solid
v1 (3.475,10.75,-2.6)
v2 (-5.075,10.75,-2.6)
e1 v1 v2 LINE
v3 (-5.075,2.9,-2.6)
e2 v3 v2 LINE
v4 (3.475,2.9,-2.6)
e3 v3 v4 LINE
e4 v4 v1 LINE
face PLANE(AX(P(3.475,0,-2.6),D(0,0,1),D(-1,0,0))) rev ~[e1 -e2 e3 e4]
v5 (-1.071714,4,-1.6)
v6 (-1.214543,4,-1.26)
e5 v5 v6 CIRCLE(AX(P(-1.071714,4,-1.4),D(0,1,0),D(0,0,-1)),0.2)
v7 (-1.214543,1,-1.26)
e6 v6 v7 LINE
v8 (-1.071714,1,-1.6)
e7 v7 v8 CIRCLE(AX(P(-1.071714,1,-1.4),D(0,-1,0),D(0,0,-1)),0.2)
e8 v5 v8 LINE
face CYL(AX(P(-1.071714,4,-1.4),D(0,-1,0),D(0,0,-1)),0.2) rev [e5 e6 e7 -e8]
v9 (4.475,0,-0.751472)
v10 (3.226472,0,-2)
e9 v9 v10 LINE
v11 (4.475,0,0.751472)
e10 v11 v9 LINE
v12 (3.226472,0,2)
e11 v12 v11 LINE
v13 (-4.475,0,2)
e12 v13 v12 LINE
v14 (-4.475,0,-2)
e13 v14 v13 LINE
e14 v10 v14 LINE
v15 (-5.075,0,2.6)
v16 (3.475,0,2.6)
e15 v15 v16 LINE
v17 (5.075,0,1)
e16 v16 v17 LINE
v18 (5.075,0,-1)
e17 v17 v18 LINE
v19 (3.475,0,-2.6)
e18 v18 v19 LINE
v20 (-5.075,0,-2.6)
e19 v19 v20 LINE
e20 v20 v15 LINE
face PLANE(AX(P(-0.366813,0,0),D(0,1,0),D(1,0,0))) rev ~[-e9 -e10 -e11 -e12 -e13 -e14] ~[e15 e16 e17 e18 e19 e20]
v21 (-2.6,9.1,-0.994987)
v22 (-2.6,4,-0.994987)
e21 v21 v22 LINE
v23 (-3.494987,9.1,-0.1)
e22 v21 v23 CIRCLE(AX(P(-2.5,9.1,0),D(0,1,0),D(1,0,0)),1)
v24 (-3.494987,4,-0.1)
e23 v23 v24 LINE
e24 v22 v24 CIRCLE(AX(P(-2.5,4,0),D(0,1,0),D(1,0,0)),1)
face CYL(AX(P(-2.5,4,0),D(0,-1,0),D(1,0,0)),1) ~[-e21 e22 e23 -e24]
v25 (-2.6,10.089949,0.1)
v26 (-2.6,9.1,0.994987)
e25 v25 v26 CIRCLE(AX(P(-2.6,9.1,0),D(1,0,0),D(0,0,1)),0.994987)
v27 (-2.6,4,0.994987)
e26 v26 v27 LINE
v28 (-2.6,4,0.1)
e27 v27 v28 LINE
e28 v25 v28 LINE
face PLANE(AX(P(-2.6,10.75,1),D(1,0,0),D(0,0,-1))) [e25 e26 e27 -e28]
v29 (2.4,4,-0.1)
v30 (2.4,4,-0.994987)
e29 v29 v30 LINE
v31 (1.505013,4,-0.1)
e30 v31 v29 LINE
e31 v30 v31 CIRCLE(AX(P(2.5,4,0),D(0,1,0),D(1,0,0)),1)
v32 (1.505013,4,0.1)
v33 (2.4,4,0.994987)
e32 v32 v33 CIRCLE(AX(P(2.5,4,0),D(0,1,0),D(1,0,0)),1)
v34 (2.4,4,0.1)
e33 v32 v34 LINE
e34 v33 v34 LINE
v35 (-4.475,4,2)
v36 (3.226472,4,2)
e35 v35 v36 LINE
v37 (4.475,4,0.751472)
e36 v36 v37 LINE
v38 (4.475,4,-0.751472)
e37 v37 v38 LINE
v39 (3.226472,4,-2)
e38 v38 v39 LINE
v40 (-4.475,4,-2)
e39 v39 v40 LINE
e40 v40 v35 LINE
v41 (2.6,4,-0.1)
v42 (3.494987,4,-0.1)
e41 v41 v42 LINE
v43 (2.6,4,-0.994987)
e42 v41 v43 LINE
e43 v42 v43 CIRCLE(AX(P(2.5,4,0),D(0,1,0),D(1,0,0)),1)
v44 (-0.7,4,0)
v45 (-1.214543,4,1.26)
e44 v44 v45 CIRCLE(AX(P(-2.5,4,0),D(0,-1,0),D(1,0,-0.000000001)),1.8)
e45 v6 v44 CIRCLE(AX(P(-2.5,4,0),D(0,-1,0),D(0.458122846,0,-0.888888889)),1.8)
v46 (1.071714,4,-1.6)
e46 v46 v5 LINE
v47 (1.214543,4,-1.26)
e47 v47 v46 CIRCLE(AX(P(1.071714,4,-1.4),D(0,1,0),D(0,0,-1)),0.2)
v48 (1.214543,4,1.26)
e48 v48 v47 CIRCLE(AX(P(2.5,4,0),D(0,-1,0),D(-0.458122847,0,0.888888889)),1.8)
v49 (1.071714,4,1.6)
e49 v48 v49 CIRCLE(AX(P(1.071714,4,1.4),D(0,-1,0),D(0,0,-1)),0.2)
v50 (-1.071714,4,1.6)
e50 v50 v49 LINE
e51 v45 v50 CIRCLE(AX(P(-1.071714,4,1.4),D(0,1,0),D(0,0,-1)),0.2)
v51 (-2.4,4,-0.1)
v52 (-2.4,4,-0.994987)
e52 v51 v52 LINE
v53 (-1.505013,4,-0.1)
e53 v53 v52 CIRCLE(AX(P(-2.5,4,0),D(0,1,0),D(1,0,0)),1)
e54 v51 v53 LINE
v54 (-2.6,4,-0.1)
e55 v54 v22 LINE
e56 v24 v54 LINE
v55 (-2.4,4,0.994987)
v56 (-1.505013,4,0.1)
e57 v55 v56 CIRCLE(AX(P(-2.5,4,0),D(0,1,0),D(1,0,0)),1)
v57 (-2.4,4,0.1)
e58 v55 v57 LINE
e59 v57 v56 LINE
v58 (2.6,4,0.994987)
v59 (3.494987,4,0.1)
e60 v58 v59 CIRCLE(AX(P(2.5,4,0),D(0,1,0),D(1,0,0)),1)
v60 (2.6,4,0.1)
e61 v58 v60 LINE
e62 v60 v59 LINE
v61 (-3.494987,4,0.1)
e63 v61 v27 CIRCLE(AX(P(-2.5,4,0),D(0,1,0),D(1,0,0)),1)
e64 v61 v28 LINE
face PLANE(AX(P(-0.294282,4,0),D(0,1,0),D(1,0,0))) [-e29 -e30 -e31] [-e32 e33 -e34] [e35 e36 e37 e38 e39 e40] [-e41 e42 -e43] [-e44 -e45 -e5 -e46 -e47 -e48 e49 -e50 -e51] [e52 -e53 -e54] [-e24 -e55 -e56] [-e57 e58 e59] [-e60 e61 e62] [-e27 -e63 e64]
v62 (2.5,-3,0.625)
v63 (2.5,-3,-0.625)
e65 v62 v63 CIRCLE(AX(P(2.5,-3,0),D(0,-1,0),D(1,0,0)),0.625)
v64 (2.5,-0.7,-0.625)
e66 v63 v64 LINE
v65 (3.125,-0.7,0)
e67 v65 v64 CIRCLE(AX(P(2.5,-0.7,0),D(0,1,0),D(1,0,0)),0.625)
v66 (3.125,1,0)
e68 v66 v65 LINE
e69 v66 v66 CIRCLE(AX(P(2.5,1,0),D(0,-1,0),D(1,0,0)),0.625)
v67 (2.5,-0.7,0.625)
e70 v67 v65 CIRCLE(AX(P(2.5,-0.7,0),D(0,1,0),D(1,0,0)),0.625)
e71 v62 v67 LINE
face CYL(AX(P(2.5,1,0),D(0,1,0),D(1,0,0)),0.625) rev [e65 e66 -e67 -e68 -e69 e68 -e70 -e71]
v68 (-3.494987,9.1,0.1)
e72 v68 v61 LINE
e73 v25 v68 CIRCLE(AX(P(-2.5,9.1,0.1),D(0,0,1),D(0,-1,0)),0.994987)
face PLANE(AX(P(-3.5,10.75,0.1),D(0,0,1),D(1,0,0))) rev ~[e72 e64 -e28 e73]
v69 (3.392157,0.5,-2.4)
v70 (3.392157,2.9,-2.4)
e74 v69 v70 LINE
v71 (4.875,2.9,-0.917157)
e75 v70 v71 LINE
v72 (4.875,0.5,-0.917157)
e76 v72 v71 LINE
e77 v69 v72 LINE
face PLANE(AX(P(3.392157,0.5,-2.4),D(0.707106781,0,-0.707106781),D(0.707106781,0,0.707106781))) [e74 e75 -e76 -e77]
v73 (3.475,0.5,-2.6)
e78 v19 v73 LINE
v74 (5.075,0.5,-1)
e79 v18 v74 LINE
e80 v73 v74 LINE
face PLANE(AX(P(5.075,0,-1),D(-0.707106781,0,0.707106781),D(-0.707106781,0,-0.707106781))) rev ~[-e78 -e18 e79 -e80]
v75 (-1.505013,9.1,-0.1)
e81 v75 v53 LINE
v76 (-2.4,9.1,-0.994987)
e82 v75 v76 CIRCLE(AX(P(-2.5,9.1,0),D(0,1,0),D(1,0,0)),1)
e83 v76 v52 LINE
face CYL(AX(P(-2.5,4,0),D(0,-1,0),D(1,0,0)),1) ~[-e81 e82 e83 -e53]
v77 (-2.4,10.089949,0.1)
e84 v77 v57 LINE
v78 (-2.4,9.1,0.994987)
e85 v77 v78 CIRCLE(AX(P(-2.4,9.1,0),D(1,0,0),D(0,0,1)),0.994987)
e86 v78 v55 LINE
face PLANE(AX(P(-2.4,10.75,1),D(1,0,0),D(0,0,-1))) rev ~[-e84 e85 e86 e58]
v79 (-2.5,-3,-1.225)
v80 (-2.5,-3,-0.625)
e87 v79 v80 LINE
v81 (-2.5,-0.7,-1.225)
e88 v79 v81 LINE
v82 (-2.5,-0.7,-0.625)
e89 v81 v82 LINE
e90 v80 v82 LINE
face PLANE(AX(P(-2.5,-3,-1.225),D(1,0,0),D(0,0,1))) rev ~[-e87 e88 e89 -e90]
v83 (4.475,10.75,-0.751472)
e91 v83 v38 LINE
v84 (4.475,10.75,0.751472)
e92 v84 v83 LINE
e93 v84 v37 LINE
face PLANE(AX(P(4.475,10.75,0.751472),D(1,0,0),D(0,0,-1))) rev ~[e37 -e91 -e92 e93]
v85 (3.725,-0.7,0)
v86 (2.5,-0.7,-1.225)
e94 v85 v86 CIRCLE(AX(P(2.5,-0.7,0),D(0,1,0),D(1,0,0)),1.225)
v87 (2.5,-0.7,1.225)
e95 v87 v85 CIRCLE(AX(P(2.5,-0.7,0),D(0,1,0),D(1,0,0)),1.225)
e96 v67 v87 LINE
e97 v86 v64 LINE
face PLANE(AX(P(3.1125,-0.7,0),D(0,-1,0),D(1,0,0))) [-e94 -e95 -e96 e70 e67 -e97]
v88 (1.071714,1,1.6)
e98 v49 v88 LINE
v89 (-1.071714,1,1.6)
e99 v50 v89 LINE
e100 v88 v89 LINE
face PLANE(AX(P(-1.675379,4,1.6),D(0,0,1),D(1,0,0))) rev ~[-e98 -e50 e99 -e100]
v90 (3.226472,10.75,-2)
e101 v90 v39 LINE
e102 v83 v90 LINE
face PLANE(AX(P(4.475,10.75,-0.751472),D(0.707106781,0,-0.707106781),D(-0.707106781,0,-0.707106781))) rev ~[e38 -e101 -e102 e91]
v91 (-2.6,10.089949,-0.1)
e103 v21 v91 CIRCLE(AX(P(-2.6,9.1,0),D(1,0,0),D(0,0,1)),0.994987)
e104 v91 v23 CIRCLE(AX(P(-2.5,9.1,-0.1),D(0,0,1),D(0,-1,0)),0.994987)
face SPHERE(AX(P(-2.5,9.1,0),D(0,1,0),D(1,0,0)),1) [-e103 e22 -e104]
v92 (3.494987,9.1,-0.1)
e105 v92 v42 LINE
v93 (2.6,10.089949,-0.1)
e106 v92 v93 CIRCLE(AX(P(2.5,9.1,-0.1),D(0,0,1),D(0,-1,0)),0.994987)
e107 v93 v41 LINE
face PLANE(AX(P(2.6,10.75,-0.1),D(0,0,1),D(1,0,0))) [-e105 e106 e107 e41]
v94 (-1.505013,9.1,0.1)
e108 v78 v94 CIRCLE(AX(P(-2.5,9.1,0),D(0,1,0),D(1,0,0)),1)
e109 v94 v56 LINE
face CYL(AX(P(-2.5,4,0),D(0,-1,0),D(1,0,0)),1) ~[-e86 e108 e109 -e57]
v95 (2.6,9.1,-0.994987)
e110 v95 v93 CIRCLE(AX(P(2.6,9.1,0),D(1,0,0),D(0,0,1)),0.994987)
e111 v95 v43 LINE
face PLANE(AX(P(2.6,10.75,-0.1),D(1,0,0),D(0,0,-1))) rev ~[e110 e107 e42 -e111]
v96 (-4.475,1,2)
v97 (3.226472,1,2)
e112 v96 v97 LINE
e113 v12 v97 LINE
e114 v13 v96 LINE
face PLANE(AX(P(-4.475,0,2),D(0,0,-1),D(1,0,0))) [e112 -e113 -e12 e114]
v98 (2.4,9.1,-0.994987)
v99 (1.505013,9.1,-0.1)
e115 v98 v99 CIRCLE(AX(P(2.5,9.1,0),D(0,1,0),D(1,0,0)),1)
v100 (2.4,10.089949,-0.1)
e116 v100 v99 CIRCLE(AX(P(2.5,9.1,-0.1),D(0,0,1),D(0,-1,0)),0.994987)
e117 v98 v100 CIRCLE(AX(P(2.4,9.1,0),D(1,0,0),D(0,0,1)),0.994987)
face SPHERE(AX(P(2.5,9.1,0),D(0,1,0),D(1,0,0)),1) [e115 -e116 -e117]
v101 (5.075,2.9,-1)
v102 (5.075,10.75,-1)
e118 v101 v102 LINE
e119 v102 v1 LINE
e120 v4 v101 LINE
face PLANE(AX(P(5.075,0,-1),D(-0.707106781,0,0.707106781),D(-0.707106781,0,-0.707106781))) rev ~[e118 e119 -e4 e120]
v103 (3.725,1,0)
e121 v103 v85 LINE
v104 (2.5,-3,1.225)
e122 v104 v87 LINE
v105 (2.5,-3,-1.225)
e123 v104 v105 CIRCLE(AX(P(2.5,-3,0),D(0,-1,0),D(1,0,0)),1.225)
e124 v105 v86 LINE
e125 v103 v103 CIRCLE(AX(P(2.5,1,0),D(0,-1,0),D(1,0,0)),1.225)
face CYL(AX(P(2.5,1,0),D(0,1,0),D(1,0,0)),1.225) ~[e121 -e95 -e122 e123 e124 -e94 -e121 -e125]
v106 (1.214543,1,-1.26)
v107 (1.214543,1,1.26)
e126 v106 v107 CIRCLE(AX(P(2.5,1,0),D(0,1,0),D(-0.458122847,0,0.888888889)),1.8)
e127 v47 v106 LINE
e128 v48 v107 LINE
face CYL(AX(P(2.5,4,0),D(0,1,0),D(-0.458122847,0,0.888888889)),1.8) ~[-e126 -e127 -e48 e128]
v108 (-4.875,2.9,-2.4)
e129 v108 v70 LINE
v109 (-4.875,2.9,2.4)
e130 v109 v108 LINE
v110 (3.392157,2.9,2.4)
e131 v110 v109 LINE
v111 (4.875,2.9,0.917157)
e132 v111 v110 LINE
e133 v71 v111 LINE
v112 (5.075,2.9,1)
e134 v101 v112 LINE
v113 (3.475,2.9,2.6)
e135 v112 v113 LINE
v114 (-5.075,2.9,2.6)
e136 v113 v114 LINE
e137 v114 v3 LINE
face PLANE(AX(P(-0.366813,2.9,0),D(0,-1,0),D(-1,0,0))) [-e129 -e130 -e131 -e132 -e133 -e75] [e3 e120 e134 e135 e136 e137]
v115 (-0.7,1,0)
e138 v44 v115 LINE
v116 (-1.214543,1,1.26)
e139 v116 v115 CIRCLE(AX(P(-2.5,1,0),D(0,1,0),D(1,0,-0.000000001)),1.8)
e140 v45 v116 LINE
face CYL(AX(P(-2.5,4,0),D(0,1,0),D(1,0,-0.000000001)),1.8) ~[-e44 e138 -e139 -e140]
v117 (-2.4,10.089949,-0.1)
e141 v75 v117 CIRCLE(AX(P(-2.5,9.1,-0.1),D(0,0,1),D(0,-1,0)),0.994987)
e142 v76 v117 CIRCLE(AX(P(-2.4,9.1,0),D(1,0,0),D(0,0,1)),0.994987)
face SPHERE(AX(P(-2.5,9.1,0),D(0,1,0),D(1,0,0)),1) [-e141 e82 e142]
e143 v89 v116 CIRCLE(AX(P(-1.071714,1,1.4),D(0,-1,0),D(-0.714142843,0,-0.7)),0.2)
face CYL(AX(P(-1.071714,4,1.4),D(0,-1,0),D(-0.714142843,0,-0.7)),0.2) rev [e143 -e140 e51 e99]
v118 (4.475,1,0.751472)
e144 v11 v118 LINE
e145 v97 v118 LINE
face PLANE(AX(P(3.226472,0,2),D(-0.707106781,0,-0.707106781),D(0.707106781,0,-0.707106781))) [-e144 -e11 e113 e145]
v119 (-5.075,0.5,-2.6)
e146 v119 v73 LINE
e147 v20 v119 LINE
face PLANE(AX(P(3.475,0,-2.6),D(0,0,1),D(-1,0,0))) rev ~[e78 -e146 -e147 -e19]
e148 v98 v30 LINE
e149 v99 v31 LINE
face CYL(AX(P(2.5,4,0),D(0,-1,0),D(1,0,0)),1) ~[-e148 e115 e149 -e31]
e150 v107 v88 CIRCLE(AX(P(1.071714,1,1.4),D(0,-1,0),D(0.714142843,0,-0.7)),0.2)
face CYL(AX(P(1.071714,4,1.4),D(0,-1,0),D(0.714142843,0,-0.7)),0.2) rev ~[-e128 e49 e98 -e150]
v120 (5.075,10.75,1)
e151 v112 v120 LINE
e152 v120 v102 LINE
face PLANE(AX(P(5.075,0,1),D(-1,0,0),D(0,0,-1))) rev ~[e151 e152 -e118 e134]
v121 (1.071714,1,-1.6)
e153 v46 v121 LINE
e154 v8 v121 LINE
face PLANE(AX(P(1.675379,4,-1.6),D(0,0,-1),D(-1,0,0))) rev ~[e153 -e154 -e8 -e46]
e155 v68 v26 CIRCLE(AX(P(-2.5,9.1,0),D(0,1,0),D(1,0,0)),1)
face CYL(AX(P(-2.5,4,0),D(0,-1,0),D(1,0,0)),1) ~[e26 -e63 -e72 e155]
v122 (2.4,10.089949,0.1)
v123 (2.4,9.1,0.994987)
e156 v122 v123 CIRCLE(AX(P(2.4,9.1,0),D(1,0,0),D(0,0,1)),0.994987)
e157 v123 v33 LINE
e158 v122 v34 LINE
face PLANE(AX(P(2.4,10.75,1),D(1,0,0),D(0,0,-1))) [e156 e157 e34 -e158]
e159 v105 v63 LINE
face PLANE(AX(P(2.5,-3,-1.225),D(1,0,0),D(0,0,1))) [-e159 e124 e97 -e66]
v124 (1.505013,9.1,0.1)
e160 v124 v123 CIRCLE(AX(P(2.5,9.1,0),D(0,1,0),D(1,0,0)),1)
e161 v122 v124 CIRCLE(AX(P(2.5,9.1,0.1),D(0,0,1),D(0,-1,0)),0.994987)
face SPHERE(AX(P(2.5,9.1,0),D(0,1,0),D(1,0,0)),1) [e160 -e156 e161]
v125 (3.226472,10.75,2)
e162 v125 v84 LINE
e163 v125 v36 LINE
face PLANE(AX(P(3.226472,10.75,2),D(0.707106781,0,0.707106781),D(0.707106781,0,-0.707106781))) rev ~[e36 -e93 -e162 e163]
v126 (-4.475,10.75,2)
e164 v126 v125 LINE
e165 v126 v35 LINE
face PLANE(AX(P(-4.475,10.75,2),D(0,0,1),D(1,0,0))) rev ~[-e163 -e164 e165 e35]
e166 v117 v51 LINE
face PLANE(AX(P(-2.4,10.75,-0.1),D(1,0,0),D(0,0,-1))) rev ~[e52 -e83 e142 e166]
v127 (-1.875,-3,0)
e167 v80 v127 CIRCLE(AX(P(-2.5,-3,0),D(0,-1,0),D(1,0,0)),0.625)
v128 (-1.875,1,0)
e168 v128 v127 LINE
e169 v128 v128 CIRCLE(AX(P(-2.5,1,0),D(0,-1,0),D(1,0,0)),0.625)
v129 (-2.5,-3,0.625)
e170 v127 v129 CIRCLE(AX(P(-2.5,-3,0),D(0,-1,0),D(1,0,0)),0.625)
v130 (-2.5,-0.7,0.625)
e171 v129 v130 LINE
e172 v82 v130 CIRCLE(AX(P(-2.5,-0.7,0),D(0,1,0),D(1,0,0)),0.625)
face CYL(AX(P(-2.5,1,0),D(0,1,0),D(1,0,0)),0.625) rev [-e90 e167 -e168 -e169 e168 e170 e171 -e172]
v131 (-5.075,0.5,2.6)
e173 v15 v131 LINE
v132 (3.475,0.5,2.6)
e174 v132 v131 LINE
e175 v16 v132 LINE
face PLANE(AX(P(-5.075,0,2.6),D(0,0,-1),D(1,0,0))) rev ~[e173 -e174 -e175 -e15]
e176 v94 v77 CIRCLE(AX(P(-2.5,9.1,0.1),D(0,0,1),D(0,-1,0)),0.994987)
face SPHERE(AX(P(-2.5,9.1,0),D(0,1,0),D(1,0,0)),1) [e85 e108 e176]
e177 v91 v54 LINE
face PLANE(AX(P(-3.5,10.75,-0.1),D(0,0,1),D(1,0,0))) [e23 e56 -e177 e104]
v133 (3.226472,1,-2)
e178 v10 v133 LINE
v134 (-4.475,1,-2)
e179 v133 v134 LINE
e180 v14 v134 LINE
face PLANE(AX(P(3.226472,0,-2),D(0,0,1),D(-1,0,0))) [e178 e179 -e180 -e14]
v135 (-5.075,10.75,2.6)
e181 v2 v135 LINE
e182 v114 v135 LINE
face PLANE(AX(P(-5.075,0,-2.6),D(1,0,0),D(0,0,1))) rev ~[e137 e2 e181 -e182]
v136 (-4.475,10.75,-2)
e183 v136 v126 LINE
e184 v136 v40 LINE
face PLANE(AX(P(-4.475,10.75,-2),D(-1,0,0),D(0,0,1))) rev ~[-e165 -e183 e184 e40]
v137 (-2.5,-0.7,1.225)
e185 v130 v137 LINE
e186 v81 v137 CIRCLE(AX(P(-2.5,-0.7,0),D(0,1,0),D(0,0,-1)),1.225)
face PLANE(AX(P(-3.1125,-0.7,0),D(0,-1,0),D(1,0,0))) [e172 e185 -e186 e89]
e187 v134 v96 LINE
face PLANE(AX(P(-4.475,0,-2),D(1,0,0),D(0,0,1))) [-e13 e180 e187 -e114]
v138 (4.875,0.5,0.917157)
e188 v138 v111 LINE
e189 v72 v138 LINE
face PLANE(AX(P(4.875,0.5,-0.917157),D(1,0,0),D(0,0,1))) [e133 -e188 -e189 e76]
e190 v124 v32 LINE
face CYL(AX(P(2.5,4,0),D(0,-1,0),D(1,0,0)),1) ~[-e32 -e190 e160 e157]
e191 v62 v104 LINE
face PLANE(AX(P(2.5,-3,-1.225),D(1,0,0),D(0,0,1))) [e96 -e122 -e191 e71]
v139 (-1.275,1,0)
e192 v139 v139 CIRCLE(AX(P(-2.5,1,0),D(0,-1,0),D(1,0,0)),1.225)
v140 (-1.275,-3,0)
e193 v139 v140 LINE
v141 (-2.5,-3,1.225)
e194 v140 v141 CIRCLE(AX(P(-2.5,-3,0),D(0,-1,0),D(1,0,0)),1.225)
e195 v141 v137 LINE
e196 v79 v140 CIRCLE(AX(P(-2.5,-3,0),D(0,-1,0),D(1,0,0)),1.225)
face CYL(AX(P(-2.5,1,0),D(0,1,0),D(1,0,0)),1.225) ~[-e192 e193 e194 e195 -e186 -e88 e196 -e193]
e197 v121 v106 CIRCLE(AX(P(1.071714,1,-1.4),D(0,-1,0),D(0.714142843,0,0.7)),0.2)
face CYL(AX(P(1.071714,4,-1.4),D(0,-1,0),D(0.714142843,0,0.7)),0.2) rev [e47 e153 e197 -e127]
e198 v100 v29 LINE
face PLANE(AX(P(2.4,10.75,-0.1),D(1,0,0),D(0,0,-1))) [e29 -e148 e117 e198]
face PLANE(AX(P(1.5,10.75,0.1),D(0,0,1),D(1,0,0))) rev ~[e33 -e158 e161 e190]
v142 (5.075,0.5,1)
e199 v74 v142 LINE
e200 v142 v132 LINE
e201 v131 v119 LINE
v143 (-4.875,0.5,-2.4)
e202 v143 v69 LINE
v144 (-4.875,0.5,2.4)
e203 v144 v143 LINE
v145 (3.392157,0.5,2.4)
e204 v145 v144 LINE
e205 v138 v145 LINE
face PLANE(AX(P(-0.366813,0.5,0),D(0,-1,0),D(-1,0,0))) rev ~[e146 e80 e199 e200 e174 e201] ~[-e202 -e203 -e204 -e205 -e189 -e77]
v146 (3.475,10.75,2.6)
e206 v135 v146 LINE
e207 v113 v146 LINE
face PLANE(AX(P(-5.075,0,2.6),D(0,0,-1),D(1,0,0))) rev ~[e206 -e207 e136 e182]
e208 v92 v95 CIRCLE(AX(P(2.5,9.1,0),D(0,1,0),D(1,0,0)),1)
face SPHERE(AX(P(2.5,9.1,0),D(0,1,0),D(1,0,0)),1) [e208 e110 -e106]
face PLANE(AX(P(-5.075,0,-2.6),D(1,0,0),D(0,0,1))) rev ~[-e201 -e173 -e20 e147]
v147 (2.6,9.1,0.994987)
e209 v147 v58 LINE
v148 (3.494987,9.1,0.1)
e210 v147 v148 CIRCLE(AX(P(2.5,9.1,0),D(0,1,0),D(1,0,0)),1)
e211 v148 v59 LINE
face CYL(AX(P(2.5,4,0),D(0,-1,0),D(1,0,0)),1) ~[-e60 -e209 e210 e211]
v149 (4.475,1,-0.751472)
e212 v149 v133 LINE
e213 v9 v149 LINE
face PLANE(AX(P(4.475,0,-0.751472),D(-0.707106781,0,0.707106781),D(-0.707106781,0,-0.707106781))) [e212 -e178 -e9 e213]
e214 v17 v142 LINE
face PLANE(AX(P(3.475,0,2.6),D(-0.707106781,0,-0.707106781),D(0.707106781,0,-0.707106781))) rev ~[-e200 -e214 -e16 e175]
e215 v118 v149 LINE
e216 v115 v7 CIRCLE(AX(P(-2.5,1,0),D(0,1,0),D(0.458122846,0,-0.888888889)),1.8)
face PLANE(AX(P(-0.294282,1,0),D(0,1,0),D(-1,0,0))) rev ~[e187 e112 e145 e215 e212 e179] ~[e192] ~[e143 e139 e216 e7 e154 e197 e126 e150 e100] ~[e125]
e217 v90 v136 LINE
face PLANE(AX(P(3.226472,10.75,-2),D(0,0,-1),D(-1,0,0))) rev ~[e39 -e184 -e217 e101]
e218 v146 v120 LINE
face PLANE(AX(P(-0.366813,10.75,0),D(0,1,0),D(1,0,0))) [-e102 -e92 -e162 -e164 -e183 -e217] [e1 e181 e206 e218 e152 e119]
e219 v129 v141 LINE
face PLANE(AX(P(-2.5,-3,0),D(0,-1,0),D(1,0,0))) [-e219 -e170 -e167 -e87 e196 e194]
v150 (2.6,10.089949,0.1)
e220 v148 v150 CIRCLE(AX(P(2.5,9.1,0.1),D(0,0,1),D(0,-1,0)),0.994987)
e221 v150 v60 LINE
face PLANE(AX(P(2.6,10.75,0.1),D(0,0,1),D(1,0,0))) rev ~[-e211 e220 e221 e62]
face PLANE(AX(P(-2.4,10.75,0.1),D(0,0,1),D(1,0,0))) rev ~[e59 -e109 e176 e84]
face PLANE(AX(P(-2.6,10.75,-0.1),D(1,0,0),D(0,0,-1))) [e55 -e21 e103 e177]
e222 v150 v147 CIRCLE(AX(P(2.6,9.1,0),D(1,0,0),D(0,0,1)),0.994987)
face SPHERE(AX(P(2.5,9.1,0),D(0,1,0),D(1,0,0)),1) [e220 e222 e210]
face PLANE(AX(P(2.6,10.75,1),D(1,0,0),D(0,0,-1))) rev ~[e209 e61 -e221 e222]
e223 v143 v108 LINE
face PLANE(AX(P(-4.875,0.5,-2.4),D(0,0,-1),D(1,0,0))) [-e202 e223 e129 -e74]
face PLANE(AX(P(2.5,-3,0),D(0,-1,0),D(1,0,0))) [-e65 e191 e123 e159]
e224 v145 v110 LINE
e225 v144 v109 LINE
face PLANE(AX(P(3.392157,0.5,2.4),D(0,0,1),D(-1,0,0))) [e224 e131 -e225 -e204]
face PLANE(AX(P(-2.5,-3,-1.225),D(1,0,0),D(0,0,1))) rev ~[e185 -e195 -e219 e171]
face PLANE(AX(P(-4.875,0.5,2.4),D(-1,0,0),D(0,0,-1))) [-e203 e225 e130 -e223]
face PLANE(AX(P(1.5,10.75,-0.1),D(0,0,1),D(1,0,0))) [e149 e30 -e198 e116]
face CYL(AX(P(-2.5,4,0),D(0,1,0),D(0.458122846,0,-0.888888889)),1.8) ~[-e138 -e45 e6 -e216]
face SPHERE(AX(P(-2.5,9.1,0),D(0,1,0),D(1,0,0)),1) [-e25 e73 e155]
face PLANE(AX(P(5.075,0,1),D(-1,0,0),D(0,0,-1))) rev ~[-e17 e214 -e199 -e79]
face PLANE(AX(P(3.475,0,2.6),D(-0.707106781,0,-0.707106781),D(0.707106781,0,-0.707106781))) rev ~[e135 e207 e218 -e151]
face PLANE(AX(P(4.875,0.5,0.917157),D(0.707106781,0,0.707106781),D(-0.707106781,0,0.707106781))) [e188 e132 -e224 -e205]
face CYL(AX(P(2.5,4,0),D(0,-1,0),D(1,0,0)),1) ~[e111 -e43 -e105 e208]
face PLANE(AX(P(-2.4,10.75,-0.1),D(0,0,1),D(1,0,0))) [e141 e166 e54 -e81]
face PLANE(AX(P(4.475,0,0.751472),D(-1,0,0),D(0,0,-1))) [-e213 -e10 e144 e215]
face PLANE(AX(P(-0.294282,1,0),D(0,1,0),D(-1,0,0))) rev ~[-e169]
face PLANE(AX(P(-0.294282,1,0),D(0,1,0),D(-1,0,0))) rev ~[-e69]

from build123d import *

# Parameters (mm, degrees)
SHAPE_DEPTH         = 10.75
CUT_EXTRUDE1_DEPTH  = 6.75
CUT_EXTRUDE2_REACH  = 6
FILLET1_R           = 0.2
SKETCH4_R           = 1
BOSS_EXTRUDE2_DEPTH = 6.1
FILLET2_R           = 1
SKETCH5_W           = 0.2
SKETCH5_H           = 2
SKETCH5_W_2         = 2
SKETCH5_H_2         = 0.2
CUT_EXTRUDE3_DEPTH  = 6.75
CUT_EXTRUDE4_DEPTH  = 2.4
CUT_EXTRUDE5_DEPTH  = 1
SKETCH7_R           = 1.225
SKETCH7_R_2         = 0.625
BOSS_EXTRUDE3_DEPTH = 4
SKETCH9_W           = 1.225
SKETCH9_H           = 2.45
CUT_EXTRUDE6_DEPTH  = 2.3


with BuildPart() as part:
    # Sketch1 → Shape (new body)
    with BuildSketch(Plane(origin=(0, 0, 0), x_dir=(1, 0, 0), z_dir=(0, 1, 0))):
        Polygon((5.075, -1), (5.075, 1), (3.475, 2.6), (-5.075, 2.6), (-5.075, -2.6), (3.475, -2.6), align=None)
    extrude(amount=SHAPE_DEPTH)

    # Sketch2 → Cut-Extrude1 (cut)
    with BuildSketch(Plane(origin=(0, 10.75, 0), x_dir=(1, 0, 0), z_dir=(0, 1, 0))):
        Polygon((3.226471863, -2), (4.475, -0.751471863), (4.475, 0.751471863), (3.226471863, 2), (-4.475, 2), (-4.475, -2), align=None)
    extrude(amount=-CUT_EXTRUDE1_DEPTH, mode=Mode.SUBTRACT)

    # Sketch3 → Cut-Extrude2 (cut, up to next)
    with BuildSketch(Plane(origin=(0, 4, 0), x_dir=(1, 0, 0), z_dir=(0, 1, 0)), mode=Mode.PRIVATE) as cut_extrude2_sk1:
        with BuildLine():
            Line((-1.675378875, -1.6), (1.675378875, -1.6))
            ThreePointArc((1.675378875, -1.6), (0.7, 0), (1.675378875, 1.6))
            Line((1.675378875, 1.6), (-1.675378875, 1.6))
            ThreePointArc((-1.675378875, 1.6), (-0.963068312, 0.936931688), (-0.7, 0))
            ThreePointArc((-0.7, 0), (-0.963068312, -0.936931688), (-1.675378875, -1.6))
        make_face()
    cut_extrude2_tool1 = extrude(cut_extrude2_sk1.sketch, amount=-CUT_EXTRUDE2_REACH, mode=Mode.PRIVATE) & part.part
    add(cut_extrude2_tool1.solids().sort_by_distance((0, 4, 0))[0], mode=Mode.SUBTRACT)

    # Fillet1
    fillet1_edges = [part.edges().sort_by_distance(p)[0] for p in [
        (1.675378875, 2, 1.6),
        (-1.675378875, 2, 1.6),
        (-1.675378875, 2, -1.6),
        (1.675378875, 2, -1.6),
    ]]
    fillet(fillet1_edges, radius=FILLET1_R)

    # Sketch4 → Boss-Extrude2 (add)
    with BuildSketch(Plane(origin=(0, 4, 0), x_dir=(1, 0, 0), z_dir=(0, 1, 0))):
        with Locations((-2.5, 0)):
            Circle(SKETCH4_R)
        with Locations((2.5, 0)):
            Circle(SKETCH4_R)
    extrude(amount=BOSS_EXTRUDE2_DEPTH)

    # Fillet2
    fillet2_edges = [part.edges().sort_by_distance(p)[0] for p in [
        (-3.5, 10.1, 0),
        (1.5, 10.1, 0),
    ]]
    fillet(fillet2_edges, radius=FILLET2_R)

    # Sketch5 → Cut-Extrude3 (cut)
    with BuildSketch(Plane(origin=(0, 10.75, 0), x_dir=(1, 0, 0), z_dir=(0, 1, 0))):
        with Locations((-2.5, 0)):
            Rectangle(SKETCH5_W, SKETCH5_H)
        with Locations((-2.5, 0)):
            Rectangle(SKETCH5_W_2, SKETCH5_H_2)
        with Locations((2.5, 0)):
            Rectangle(SKETCH5_W_2, SKETCH5_H_2)
        with Locations((2.5, 0)):
            Rectangle(SKETCH5_W, SKETCH5_H)
    extrude(amount=-CUT_EXTRUDE3_DEPTH, mode=Mode.SUBTRACT)

    # Sketch6 → Cut-Extrude4 (cut)
    with BuildSketch(Plane(origin=(0, 0.5, 0), x_dir=(-1, 0, 0), z_dir=(0, -1, 0))):
        Polygon((-5.075, -1), (-3.475, -2.6), (5.075, -2.6), (5.075, 2.6), (-3.475, 2.6), (-5.075, 1), align=None)
        Polygon((-4.875, -0.917157288), (-3.392157288, -2.4), (4.875, -2.4), (4.875, 2.4), (-3.392157288, 2.4), (-4.875, 0.917157288), align=None, mode=Mode.SUBTRACT)
    extrude(amount=-CUT_EXTRUDE4_DEPTH, mode=Mode.SUBTRACT)

    # Sketch8 → Cut-Extrude5 (cut)
    with BuildSketch(Plane.XZ):
        Polygon((-4.475, -2), (-4.475, 2), (3.226471863, 2), (4.475, 0.751471863), (4.475, -0.751471863), (3.226471863, -2), align=None)
    extrude(amount=-CUT_EXTRUDE5_DEPTH, mode=Mode.SUBTRACT)

    # Sketch7 → Boss-Extrude3 (add)
    with BuildSketch(Plane.XZ.offset(-1)):
        with Locations((-2.5, 0)):
            Circle(SKETCH7_R)
        with Locations((-2.5, 0)):
            Circle(SKETCH7_R_2, mode=Mode.SUBTRACT)
        with Locations((2.5, 0)):
            Circle(SKETCH7_R)
        with Locations((2.5, 0)):
            Circle(SKETCH7_R_2, mode=Mode.SUBTRACT)
    extrude(amount=BOSS_EXTRUDE3_DEPTH)

    # Sketch9 → Cut-Extrude6 (cut)
    with BuildSketch(Plane.XZ.offset(3)):
        with Locations((-3.1125, 0)):
            Rectangle(SKETCH9_W, SKETCH9_H)
        with Locations((3.1125, 0)):
            Rectangle(SKETCH9_W, SKETCH9_H)
    extrude(amount=-CUT_EXTRUDE6_DEPTH, mode=Mode.SUBTRACT)


solid = part.part
